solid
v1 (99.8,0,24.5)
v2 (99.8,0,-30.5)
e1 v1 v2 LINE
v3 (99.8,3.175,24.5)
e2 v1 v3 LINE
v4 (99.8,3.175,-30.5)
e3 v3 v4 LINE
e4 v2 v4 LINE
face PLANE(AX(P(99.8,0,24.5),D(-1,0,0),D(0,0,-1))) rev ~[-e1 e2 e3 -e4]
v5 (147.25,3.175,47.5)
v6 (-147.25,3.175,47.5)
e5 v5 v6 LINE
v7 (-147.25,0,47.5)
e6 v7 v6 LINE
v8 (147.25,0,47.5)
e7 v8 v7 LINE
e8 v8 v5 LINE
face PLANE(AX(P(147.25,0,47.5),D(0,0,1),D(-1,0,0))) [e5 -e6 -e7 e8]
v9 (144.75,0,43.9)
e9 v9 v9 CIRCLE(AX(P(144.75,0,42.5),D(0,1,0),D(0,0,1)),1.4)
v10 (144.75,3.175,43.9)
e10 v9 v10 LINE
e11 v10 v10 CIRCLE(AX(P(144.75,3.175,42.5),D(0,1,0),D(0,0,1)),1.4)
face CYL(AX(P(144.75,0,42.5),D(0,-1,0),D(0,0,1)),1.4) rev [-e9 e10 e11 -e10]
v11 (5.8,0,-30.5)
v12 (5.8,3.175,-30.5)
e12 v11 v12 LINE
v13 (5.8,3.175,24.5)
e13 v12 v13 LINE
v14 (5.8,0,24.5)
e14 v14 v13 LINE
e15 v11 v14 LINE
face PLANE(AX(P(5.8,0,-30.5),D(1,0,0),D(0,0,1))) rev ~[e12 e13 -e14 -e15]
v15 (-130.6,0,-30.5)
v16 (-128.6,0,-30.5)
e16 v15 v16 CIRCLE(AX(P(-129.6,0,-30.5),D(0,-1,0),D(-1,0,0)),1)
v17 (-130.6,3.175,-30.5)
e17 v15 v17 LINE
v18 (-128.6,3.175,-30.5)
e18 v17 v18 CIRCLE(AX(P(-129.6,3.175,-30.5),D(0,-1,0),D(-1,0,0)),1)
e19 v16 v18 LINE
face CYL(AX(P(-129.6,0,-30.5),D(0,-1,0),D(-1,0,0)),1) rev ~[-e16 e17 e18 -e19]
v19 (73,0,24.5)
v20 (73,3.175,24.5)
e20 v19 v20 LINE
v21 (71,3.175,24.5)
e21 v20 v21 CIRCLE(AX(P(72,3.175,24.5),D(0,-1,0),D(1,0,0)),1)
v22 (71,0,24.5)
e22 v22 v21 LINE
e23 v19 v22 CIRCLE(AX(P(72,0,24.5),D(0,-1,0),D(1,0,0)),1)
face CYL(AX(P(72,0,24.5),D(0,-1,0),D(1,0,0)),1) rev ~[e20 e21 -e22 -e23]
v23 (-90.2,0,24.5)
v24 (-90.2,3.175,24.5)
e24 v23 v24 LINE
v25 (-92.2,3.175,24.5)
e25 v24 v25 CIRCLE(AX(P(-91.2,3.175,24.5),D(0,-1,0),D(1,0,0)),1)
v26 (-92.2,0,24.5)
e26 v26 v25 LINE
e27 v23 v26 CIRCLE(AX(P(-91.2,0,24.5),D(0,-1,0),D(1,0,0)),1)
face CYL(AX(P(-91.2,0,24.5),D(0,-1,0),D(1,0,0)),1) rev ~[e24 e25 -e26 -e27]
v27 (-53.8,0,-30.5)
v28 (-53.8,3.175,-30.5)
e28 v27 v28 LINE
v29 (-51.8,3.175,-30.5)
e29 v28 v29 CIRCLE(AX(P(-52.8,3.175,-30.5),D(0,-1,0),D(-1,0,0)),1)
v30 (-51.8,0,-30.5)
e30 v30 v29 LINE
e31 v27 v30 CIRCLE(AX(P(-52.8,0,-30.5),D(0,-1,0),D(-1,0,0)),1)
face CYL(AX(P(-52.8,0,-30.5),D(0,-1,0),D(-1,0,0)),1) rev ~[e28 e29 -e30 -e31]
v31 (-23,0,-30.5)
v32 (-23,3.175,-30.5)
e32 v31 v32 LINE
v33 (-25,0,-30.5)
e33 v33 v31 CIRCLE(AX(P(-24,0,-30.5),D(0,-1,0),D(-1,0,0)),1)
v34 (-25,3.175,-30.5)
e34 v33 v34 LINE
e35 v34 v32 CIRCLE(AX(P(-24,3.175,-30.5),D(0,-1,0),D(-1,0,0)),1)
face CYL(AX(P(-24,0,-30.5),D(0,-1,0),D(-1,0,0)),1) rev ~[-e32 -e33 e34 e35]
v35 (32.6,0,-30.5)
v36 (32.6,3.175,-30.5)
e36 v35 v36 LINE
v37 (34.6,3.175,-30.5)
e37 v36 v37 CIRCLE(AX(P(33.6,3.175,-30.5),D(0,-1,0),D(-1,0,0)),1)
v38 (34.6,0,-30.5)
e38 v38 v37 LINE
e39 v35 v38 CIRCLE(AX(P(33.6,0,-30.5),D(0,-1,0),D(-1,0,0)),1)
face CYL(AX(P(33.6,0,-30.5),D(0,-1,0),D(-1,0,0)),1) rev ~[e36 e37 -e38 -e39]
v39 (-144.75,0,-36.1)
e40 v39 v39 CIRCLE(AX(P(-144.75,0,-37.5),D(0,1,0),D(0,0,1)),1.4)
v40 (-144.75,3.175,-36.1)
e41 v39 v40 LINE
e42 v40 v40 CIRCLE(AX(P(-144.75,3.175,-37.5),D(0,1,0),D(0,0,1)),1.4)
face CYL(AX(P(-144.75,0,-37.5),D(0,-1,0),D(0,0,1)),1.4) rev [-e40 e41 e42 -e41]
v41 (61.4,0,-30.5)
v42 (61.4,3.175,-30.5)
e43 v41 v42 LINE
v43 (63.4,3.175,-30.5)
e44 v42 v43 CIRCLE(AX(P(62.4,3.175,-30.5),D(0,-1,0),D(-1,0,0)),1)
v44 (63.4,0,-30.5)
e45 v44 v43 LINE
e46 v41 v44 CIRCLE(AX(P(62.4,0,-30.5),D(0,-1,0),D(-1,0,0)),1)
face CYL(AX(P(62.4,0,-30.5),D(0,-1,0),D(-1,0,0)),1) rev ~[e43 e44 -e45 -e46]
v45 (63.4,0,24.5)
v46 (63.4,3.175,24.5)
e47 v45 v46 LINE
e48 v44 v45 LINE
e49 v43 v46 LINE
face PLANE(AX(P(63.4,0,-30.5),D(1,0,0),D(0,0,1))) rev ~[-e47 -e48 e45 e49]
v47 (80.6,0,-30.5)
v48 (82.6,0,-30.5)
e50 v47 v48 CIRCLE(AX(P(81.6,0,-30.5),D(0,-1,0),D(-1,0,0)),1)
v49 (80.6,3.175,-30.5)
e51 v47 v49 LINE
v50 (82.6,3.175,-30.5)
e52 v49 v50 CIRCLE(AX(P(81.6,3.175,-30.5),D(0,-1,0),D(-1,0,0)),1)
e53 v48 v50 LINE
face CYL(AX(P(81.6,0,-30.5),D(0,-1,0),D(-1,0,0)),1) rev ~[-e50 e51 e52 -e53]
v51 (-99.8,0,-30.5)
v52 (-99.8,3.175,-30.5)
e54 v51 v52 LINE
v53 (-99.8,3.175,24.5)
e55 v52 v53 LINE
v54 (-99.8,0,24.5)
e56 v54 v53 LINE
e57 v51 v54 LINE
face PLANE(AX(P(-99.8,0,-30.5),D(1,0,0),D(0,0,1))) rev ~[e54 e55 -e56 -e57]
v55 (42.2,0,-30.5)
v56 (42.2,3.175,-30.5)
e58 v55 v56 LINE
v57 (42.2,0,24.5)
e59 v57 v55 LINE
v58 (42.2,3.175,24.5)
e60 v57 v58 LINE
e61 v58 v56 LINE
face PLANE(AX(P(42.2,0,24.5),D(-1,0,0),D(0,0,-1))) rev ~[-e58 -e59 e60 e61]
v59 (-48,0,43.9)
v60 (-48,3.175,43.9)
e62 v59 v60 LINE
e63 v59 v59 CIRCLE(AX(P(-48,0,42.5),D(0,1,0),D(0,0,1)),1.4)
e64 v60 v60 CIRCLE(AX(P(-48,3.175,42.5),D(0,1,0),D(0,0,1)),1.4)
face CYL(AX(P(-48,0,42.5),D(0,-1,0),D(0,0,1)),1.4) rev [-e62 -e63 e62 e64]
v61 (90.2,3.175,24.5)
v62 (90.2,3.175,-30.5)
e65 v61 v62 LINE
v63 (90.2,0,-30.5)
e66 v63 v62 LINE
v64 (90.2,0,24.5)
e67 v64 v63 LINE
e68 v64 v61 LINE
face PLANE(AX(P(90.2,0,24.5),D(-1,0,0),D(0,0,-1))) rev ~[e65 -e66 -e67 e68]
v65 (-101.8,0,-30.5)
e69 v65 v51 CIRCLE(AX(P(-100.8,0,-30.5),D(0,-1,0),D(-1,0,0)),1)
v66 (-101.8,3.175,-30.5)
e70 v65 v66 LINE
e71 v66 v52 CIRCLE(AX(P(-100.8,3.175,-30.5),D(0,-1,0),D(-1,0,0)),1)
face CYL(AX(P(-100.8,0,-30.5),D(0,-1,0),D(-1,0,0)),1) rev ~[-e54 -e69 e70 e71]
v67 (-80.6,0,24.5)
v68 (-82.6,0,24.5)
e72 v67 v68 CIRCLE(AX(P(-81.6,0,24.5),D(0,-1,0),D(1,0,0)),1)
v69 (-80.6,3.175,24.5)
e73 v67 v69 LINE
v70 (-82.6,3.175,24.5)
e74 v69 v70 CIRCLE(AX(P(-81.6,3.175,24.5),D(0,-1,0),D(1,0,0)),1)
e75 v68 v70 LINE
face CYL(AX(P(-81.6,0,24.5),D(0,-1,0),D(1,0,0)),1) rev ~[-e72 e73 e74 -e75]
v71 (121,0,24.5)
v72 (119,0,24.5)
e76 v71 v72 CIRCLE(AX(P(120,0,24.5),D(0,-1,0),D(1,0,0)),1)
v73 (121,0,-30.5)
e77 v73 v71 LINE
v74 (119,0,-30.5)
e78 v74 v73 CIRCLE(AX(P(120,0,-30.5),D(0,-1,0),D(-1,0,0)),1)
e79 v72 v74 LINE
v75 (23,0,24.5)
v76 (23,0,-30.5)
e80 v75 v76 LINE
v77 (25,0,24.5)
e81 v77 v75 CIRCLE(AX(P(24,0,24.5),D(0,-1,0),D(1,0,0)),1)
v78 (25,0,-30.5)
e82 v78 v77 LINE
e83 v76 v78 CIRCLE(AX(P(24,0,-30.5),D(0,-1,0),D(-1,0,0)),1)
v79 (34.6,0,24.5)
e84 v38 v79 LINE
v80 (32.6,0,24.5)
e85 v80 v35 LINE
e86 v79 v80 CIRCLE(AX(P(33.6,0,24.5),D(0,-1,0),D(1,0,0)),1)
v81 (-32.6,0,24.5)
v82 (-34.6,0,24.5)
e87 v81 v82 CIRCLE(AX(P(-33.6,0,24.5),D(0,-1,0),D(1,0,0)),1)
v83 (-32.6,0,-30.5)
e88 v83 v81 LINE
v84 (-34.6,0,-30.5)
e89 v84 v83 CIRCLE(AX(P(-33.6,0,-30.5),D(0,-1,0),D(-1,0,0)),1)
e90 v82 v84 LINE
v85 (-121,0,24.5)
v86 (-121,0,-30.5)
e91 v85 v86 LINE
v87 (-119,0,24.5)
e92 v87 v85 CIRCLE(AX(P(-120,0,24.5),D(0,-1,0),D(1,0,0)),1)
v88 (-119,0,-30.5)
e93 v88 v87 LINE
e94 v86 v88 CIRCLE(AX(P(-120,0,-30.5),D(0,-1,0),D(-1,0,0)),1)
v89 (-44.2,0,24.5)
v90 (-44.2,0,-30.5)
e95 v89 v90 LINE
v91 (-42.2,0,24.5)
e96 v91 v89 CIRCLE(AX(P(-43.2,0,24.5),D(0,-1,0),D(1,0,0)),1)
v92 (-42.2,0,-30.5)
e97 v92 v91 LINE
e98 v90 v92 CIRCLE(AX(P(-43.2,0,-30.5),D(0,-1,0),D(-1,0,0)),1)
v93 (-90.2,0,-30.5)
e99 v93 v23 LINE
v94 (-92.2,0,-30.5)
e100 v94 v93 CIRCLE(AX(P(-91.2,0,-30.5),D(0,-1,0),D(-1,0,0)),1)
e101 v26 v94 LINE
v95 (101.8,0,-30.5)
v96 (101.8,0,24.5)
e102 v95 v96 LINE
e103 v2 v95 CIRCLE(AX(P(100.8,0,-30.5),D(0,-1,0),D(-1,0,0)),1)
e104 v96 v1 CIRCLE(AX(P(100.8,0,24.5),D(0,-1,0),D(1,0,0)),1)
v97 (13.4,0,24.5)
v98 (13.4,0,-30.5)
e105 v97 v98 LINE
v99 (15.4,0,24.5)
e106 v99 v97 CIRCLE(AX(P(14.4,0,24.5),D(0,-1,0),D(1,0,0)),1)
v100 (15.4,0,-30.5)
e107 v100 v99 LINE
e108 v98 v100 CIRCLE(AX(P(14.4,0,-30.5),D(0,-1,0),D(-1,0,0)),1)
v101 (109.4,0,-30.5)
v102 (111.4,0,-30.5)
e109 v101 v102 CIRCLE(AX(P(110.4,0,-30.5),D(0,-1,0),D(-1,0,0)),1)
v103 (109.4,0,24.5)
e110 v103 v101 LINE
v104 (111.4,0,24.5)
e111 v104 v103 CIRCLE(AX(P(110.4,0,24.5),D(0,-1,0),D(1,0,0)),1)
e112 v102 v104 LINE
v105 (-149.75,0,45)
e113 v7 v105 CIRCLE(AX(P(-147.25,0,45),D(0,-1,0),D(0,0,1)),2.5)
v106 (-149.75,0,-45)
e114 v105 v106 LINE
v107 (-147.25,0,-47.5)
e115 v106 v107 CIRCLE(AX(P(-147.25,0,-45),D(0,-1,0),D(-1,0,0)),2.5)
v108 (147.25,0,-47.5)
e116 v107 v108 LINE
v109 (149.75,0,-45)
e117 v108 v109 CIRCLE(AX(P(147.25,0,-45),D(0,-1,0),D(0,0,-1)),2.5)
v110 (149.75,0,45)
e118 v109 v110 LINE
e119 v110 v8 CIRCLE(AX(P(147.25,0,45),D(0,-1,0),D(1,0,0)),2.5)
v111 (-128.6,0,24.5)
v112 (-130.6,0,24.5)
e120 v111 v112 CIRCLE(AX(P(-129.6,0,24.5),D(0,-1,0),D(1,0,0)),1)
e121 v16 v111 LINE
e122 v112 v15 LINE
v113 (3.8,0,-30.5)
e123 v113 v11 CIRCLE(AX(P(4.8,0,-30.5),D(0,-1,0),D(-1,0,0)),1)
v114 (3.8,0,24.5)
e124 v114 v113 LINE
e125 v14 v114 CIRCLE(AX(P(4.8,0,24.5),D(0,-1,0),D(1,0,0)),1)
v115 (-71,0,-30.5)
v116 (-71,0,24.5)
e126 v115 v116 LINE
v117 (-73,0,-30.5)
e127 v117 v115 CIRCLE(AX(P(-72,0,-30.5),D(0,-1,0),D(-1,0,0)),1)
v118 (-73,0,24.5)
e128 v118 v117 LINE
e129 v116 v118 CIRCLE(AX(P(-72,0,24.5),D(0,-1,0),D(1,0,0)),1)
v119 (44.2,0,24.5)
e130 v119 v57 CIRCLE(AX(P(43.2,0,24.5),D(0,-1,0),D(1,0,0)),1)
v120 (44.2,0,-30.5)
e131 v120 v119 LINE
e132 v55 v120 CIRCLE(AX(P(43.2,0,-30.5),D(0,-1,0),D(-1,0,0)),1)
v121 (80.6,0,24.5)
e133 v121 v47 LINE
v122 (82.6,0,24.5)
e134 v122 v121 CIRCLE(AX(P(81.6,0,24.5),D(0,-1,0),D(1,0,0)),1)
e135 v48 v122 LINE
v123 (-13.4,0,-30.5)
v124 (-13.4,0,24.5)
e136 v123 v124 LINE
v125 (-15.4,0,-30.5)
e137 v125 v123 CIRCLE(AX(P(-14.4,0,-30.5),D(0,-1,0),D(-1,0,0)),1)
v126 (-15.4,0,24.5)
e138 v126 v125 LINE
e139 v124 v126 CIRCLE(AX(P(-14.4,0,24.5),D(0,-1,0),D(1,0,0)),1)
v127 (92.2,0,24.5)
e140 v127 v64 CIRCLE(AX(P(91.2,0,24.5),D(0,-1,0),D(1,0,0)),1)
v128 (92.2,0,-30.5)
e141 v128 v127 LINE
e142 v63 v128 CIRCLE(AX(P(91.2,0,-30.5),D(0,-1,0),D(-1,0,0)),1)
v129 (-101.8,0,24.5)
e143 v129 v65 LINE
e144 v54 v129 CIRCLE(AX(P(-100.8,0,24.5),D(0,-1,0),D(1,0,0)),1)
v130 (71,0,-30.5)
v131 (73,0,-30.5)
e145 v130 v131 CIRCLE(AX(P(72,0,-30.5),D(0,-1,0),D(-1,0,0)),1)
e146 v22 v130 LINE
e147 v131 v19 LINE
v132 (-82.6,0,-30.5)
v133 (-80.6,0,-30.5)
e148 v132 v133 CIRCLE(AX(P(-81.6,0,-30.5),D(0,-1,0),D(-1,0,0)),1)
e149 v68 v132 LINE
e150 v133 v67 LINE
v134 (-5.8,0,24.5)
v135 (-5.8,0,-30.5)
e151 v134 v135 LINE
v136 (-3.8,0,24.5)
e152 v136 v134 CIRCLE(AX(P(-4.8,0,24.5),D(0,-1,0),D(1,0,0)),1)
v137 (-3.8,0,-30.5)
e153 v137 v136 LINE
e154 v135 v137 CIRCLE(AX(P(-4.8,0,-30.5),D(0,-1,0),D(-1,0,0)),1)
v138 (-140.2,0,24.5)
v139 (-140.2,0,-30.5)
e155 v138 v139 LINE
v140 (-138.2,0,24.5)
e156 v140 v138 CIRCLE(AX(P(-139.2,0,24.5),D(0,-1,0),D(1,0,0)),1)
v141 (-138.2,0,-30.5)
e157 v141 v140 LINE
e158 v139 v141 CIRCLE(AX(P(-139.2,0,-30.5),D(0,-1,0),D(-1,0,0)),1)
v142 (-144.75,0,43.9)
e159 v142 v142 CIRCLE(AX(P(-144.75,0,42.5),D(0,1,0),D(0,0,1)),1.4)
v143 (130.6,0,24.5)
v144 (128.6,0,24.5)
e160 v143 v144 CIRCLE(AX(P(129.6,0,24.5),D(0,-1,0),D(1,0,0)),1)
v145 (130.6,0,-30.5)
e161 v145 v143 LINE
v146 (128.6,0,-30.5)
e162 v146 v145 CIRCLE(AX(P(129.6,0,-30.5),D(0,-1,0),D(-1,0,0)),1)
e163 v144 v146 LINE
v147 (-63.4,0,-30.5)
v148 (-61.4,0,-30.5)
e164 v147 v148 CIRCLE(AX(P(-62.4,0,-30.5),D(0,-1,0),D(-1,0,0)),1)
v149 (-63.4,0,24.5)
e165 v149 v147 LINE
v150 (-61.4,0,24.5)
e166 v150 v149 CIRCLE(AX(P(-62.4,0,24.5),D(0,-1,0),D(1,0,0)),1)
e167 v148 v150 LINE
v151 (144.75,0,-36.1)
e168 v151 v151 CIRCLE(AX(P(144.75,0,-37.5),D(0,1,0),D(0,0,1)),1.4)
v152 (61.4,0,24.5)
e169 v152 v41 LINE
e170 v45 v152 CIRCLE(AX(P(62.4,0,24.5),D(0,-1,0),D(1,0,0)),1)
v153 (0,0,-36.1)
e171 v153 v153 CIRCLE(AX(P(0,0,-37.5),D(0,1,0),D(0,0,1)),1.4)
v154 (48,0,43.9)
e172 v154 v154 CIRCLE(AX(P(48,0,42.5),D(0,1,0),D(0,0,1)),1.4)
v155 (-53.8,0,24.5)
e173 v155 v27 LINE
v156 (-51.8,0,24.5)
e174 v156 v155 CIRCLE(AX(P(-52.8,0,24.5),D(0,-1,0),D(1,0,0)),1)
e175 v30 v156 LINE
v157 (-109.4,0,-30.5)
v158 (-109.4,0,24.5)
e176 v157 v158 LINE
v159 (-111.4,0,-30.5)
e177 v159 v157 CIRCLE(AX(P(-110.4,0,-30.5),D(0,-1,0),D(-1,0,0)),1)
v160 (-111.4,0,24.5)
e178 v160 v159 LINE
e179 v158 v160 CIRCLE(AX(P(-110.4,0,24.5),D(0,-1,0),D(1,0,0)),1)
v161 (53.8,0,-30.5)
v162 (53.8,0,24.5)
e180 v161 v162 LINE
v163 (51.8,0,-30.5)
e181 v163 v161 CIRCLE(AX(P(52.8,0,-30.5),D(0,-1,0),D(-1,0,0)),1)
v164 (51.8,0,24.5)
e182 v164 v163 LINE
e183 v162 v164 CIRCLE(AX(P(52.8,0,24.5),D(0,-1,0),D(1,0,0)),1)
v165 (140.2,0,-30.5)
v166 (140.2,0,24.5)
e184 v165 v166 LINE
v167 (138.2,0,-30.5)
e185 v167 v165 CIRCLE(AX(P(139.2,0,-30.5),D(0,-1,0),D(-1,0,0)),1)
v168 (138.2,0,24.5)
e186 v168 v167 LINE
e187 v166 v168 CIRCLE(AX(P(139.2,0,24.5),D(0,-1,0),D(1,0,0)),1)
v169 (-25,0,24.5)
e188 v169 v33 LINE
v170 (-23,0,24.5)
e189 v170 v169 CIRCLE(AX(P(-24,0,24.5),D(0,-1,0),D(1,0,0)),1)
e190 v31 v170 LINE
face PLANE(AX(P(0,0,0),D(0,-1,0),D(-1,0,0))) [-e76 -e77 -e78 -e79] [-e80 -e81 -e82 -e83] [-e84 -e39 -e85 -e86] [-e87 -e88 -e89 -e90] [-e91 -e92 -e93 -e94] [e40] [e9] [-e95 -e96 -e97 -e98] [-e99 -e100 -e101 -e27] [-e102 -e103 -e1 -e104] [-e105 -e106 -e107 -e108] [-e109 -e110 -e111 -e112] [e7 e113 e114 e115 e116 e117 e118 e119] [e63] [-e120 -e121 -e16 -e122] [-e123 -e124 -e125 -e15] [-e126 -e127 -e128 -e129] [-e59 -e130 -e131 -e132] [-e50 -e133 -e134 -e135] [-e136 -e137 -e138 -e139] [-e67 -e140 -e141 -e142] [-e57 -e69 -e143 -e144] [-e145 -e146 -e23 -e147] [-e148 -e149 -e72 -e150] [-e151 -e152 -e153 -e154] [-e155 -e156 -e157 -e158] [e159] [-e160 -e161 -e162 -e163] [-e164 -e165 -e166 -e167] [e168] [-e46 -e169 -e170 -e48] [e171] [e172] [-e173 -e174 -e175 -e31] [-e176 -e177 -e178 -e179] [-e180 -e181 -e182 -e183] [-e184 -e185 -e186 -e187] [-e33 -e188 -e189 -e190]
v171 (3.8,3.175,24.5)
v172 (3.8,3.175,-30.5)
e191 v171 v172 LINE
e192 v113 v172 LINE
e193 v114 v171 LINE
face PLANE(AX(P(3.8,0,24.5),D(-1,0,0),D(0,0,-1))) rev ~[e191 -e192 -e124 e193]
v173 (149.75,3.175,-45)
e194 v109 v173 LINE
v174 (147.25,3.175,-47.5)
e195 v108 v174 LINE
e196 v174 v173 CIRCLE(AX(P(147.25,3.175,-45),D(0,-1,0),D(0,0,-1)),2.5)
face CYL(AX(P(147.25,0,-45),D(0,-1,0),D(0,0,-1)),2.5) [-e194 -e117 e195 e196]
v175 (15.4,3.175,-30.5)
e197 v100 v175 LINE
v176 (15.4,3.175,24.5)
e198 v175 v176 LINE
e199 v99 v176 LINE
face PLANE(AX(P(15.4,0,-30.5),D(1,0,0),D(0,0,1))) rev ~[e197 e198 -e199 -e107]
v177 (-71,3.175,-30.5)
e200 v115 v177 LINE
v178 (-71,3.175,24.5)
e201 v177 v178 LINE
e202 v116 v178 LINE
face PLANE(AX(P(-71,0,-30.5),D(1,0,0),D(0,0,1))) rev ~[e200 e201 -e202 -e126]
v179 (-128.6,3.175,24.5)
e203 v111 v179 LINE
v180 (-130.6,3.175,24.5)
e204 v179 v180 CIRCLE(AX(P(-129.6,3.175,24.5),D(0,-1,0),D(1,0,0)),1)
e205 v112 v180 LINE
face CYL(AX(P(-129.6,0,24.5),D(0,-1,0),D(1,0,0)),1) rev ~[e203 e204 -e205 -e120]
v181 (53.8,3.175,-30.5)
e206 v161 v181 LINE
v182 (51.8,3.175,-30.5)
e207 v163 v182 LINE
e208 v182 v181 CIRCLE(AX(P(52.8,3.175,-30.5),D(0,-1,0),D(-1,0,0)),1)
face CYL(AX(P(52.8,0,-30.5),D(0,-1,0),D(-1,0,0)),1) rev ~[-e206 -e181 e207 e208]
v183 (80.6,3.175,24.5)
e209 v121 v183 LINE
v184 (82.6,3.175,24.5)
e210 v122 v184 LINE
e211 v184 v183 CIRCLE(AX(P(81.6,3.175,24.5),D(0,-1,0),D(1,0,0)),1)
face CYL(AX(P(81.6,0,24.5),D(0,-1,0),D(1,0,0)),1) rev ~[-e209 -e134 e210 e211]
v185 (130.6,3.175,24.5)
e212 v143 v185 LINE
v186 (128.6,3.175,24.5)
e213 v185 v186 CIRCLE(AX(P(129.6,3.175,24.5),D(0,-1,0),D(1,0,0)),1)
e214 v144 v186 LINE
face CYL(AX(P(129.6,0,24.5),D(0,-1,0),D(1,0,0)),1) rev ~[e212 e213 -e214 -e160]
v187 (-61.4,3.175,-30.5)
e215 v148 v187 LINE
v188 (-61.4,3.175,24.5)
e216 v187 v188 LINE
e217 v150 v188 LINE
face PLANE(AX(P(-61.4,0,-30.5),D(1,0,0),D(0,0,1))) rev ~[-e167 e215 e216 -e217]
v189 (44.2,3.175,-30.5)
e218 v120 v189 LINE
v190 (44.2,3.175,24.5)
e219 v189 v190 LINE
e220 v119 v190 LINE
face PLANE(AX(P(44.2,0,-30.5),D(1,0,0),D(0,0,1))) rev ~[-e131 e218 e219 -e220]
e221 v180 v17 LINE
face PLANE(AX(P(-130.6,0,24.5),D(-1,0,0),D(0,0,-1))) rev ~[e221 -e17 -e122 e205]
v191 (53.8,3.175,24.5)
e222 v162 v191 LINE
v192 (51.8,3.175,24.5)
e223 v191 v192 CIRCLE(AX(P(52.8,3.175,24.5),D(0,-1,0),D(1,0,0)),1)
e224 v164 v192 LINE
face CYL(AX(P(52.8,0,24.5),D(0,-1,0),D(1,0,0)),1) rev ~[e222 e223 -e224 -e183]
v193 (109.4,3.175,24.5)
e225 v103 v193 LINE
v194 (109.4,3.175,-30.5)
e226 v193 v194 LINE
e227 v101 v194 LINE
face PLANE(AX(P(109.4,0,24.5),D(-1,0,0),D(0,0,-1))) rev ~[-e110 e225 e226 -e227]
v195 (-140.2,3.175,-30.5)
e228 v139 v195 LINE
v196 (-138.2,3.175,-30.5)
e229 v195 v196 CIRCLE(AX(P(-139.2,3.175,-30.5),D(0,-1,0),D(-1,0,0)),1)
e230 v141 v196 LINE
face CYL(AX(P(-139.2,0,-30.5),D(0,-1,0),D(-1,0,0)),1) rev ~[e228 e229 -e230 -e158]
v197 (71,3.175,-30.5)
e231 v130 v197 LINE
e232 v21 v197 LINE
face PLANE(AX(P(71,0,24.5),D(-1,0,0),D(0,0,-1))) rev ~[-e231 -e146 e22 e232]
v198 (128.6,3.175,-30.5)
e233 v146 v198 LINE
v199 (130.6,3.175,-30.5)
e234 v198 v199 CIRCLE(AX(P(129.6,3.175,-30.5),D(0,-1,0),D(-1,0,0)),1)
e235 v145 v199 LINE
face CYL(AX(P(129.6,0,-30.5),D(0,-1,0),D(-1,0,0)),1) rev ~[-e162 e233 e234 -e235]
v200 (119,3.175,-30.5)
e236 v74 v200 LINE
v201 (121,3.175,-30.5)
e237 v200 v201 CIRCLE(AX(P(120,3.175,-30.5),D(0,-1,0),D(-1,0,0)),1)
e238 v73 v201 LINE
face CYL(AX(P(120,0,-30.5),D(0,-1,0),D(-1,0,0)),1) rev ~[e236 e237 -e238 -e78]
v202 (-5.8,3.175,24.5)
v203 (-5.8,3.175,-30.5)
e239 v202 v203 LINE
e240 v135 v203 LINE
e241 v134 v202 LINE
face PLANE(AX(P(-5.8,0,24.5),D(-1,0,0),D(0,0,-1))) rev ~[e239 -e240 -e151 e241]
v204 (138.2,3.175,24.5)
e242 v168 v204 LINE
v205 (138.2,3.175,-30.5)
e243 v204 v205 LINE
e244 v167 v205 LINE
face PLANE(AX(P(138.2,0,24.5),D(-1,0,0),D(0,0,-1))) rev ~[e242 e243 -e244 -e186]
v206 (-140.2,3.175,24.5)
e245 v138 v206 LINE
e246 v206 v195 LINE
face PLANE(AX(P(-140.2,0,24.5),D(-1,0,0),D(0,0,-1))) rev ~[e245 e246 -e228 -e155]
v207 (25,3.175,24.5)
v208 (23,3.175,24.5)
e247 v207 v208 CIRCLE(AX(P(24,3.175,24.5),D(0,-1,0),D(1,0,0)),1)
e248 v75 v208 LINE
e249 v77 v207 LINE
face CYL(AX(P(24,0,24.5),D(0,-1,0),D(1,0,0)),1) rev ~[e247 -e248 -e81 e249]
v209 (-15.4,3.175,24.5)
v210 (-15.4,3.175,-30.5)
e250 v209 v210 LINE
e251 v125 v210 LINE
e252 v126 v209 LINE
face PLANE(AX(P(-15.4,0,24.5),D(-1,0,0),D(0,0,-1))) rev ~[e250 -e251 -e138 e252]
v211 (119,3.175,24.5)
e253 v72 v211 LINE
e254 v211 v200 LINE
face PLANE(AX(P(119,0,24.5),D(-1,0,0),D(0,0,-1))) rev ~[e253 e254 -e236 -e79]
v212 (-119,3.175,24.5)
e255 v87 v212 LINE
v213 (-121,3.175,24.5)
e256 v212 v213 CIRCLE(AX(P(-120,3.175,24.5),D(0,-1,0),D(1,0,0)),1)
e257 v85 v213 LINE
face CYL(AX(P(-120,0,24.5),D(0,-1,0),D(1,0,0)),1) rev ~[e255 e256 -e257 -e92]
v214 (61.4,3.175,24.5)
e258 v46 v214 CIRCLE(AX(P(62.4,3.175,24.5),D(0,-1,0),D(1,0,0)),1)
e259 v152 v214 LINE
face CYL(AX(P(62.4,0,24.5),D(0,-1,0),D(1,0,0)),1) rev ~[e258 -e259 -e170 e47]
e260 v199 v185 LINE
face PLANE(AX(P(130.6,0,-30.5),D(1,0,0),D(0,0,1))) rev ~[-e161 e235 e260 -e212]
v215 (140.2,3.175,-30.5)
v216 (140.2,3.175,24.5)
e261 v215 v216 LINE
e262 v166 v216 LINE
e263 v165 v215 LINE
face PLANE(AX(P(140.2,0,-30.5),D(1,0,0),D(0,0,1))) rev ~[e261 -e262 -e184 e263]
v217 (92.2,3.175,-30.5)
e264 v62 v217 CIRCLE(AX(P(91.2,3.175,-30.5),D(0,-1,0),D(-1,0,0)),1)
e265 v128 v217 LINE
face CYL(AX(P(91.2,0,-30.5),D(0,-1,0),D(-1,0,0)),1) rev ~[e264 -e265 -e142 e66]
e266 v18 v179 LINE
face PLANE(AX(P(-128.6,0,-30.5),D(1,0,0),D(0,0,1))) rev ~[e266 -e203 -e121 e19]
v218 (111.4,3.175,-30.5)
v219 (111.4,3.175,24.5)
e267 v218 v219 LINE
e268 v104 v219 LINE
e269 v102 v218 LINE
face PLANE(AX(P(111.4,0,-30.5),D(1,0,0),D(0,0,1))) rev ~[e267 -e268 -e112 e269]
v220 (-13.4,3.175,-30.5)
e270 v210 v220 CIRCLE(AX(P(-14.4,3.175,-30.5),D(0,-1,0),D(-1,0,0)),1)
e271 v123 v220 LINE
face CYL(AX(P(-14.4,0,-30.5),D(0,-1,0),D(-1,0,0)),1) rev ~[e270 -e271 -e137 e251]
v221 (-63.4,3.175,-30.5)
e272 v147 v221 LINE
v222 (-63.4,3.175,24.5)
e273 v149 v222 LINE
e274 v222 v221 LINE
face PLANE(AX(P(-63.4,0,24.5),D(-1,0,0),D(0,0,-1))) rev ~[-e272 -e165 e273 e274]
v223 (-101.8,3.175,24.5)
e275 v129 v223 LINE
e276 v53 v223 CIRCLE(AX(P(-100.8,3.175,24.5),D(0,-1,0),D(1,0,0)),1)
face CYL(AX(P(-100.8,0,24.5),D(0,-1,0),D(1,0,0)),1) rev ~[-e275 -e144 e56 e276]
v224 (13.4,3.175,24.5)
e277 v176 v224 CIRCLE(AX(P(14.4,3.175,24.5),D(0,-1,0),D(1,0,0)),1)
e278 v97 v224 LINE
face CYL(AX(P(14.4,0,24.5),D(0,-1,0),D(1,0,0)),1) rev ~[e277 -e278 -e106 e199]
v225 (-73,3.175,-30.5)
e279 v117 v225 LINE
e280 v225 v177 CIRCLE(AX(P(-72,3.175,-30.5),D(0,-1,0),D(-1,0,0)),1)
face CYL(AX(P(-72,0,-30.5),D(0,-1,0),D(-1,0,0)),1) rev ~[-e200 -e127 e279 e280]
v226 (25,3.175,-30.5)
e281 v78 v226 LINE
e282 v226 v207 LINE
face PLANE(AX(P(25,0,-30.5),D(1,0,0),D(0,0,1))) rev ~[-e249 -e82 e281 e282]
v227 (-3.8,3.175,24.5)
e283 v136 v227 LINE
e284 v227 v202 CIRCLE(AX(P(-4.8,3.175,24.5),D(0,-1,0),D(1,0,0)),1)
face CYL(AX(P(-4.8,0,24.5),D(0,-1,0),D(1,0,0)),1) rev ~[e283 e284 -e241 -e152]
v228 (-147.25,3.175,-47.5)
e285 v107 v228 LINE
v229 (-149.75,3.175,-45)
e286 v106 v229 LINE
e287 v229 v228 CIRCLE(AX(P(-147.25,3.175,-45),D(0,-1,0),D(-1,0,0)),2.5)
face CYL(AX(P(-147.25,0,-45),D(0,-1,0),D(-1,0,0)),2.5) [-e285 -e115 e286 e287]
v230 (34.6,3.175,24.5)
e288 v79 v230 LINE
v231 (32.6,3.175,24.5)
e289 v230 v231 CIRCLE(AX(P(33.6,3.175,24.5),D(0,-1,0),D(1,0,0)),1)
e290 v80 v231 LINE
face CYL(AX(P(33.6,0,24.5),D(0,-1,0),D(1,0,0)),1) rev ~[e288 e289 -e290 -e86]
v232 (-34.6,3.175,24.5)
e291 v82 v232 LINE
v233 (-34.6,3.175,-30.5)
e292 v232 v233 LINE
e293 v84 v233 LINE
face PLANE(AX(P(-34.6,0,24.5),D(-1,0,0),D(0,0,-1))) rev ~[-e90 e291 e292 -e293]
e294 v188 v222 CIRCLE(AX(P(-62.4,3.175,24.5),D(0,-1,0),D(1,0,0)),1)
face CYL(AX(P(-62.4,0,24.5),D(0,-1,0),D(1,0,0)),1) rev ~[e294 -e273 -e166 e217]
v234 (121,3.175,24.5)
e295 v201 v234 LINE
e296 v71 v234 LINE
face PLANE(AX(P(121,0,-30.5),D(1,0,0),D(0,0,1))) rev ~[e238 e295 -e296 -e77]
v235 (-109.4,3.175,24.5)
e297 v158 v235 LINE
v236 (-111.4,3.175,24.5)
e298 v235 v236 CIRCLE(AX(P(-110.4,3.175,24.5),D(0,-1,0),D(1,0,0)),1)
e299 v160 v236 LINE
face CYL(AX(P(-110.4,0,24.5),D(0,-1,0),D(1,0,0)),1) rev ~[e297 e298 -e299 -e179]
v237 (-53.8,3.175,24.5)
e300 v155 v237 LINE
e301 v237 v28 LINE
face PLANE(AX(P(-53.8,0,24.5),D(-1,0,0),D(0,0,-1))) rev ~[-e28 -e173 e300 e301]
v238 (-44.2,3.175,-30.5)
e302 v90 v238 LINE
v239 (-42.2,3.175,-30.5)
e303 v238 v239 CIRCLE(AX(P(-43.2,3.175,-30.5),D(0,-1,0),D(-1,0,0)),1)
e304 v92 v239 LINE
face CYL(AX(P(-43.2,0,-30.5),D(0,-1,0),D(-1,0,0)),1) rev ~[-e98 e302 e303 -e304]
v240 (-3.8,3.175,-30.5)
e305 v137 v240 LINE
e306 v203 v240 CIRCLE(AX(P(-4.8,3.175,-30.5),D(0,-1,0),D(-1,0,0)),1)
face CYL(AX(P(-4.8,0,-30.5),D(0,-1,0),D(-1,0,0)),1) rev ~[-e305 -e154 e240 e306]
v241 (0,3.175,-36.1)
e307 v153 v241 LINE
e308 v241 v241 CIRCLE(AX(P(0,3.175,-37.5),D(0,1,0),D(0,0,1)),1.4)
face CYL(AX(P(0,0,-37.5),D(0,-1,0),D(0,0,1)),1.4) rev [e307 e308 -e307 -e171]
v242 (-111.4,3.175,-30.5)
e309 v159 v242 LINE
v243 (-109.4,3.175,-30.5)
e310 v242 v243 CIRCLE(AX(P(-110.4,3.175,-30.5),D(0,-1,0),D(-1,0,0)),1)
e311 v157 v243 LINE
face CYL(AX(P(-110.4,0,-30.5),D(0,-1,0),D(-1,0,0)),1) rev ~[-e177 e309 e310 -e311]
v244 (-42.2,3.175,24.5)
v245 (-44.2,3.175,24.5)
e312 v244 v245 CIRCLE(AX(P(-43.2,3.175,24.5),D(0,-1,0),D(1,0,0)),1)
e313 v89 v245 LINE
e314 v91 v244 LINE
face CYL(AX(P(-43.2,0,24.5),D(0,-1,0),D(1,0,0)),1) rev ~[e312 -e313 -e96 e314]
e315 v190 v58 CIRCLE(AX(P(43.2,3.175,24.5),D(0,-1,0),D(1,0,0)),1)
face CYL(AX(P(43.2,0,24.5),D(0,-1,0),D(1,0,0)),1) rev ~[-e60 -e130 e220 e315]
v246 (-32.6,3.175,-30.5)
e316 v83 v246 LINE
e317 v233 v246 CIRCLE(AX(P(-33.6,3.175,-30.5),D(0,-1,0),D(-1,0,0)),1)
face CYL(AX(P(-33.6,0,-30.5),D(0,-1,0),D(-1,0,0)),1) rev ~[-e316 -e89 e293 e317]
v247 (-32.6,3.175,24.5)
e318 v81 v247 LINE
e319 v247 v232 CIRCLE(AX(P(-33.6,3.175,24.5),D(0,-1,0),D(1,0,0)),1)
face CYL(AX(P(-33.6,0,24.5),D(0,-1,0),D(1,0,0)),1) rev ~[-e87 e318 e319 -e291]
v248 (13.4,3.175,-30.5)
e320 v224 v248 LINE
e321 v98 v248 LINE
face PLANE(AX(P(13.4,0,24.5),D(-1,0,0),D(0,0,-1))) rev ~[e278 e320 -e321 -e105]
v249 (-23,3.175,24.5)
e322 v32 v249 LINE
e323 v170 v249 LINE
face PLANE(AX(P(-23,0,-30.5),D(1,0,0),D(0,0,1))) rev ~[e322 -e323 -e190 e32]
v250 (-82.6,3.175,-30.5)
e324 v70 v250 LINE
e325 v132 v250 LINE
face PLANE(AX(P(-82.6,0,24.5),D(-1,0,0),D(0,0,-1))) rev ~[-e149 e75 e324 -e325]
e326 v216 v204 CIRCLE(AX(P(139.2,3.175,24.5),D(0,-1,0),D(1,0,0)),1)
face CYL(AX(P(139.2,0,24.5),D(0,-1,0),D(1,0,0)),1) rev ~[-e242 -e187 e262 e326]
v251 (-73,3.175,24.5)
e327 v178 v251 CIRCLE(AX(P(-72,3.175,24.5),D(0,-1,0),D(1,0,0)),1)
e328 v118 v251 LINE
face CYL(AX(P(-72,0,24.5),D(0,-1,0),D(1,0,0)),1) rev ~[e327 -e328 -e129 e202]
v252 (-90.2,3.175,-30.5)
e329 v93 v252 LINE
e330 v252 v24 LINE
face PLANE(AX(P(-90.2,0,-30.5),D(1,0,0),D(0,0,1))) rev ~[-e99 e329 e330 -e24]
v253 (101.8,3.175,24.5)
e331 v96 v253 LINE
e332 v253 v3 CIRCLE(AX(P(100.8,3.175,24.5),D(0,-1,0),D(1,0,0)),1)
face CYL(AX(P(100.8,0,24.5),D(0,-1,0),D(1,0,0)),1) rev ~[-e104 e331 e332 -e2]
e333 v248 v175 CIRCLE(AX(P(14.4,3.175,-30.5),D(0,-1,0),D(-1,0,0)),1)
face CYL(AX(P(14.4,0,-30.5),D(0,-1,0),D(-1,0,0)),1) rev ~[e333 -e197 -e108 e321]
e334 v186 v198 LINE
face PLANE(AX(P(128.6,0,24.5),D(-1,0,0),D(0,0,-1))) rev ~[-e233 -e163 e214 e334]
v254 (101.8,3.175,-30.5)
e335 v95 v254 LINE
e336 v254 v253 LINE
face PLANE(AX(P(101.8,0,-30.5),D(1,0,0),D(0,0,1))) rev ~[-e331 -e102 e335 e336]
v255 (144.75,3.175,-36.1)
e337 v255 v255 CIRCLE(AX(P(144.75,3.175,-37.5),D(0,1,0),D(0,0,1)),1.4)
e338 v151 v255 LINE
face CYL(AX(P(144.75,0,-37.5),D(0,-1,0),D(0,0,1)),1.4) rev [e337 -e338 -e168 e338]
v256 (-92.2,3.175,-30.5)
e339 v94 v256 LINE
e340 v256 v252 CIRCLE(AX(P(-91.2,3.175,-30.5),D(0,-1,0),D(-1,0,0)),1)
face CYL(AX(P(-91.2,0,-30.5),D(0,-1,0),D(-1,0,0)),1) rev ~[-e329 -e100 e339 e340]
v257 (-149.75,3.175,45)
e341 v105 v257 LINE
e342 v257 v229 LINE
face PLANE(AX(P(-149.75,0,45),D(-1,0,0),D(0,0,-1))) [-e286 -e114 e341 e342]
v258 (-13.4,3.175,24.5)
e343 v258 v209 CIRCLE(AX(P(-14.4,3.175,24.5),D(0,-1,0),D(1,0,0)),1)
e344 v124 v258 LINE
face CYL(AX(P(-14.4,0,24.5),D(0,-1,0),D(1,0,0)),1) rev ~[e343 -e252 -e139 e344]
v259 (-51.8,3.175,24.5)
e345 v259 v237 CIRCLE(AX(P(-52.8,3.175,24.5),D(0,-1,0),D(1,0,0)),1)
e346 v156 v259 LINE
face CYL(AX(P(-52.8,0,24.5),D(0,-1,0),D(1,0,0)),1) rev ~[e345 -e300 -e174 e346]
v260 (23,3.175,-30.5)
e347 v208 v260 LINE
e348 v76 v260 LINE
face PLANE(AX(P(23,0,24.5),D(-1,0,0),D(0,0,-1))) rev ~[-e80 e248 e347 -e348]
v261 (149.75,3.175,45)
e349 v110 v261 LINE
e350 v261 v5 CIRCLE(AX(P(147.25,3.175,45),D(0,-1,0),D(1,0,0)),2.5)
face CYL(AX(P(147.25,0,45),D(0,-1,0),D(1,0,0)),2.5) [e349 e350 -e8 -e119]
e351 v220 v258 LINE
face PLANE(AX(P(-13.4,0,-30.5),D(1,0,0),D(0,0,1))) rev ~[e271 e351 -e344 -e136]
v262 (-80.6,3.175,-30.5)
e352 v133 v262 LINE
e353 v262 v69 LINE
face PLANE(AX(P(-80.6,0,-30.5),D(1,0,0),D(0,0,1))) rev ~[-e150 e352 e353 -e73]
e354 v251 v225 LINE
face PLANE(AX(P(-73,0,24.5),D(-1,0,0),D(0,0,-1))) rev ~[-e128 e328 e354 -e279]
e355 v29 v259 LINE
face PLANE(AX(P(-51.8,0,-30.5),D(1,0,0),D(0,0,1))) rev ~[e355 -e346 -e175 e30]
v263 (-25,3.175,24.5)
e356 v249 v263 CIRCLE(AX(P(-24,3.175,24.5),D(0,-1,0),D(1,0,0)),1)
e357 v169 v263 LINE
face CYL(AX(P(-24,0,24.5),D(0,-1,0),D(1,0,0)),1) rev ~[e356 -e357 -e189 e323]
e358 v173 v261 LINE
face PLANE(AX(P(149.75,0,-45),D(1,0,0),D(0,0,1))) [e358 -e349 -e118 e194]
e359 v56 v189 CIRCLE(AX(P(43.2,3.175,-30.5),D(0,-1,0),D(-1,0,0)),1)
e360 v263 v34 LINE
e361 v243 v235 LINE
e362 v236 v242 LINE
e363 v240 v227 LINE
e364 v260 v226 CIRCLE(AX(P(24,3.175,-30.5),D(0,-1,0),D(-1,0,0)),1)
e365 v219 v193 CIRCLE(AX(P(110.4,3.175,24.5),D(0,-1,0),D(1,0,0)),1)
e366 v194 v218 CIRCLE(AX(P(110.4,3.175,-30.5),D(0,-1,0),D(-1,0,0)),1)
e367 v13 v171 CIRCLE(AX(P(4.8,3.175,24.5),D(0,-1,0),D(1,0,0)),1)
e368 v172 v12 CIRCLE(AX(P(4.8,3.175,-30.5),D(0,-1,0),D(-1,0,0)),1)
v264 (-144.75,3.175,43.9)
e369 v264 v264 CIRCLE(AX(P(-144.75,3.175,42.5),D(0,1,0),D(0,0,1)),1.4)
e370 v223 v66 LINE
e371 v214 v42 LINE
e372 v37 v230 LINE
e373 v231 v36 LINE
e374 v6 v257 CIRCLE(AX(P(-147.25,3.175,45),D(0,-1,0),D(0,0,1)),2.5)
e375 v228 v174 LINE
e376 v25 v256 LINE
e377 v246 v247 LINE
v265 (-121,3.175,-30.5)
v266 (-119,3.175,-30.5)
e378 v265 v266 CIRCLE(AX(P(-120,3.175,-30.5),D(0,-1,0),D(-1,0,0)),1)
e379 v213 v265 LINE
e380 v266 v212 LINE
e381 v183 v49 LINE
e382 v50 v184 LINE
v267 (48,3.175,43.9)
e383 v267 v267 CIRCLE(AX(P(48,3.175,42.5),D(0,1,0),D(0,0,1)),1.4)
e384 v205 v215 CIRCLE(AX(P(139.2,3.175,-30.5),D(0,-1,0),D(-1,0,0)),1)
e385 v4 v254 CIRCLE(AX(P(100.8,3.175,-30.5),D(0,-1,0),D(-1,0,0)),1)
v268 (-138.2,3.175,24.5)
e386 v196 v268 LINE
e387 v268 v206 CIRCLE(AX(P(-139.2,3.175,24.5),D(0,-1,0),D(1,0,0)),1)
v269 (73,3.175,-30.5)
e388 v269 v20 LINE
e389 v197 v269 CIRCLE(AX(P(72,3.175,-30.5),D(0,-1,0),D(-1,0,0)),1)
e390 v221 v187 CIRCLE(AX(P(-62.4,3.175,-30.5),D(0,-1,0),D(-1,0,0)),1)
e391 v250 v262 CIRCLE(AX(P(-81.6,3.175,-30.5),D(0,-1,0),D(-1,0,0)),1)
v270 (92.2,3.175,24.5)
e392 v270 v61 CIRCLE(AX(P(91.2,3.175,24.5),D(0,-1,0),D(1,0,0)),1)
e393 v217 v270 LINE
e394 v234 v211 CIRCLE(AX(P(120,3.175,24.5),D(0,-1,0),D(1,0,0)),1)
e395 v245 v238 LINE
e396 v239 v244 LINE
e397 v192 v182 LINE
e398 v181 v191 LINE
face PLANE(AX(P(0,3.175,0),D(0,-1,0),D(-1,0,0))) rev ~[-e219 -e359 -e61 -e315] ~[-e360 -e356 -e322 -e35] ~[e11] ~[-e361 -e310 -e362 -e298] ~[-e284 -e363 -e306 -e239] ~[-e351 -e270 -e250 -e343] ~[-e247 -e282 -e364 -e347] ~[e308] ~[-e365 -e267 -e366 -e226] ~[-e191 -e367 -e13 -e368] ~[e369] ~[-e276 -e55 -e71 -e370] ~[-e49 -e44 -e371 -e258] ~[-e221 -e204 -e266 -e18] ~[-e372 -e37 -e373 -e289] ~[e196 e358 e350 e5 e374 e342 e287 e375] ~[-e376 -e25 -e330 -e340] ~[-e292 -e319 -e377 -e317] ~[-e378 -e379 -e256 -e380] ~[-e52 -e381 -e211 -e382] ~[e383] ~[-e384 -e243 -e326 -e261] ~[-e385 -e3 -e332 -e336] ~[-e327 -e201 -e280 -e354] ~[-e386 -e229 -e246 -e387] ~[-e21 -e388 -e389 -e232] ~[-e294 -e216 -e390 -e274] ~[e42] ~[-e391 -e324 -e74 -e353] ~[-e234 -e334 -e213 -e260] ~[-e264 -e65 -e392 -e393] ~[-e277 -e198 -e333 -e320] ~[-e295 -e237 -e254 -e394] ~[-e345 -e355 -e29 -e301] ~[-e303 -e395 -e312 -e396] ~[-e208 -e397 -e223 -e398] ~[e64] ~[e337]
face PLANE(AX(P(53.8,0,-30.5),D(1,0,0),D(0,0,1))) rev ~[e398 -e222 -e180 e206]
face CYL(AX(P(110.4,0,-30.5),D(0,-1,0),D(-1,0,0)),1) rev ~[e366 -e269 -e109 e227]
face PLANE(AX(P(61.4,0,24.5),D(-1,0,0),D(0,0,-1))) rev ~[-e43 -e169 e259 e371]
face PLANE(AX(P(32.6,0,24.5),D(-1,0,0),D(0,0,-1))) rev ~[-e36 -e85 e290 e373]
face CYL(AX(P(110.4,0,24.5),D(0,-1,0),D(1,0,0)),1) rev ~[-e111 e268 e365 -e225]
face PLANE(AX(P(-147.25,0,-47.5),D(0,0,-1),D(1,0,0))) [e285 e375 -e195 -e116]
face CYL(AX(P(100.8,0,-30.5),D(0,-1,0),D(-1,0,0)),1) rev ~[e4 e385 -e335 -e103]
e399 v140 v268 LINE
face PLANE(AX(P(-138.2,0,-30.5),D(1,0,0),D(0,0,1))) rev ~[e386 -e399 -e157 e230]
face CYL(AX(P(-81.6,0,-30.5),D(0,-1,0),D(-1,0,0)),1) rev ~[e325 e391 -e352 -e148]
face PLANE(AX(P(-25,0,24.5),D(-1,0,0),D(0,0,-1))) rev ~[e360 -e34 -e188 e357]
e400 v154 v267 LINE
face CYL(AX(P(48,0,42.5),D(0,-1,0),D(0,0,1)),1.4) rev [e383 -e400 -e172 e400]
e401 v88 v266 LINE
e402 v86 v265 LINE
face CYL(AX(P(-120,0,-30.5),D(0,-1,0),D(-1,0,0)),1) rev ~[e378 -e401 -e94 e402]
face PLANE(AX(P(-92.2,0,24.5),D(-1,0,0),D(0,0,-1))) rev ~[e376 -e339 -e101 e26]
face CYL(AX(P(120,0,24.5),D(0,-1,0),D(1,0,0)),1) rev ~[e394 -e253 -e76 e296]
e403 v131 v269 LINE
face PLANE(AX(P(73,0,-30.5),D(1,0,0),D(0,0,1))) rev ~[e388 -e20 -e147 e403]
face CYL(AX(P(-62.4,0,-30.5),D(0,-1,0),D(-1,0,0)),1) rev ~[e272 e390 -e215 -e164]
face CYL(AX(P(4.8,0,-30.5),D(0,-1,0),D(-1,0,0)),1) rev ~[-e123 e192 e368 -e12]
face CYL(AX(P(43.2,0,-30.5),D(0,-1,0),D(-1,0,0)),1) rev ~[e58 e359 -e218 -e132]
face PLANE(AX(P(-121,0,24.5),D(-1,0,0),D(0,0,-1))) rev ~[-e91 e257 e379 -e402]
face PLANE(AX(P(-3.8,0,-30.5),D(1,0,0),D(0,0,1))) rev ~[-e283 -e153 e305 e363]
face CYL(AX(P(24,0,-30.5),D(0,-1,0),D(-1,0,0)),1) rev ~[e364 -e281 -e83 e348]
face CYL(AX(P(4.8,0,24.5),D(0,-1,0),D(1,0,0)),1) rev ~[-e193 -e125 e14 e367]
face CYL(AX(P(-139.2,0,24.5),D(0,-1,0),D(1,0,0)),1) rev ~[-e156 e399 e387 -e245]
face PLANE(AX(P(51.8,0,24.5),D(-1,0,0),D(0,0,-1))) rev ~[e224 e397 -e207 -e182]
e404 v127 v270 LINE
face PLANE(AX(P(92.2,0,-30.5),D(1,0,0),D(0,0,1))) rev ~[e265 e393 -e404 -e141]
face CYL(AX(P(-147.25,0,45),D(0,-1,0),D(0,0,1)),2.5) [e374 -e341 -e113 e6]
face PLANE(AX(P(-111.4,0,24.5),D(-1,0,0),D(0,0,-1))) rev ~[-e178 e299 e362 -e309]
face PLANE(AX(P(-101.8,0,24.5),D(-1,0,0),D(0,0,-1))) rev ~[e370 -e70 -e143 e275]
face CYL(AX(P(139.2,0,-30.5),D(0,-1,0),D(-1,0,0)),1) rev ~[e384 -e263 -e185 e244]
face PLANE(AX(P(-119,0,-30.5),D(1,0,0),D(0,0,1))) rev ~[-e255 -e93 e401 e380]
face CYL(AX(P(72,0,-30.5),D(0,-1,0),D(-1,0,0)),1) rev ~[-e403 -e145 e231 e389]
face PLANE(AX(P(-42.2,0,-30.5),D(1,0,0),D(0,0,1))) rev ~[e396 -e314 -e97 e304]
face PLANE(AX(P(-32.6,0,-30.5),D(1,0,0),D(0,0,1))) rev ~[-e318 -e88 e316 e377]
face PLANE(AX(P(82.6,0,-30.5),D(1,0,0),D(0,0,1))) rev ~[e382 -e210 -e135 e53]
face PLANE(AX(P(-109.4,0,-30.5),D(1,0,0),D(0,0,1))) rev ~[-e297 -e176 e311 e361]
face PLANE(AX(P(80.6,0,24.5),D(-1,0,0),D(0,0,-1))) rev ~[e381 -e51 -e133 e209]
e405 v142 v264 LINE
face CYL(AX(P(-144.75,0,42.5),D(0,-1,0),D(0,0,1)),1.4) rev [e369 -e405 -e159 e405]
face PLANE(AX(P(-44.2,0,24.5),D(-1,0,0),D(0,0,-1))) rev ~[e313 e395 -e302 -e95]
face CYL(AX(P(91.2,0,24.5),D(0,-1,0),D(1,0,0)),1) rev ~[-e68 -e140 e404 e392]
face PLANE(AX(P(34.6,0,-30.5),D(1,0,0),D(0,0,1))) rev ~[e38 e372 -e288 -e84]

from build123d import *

# Parameters (mm, degrees)
SKETCH3_R           = 1.4
BOSS_EXTRUDE1_DEPTH = 3.175


with BuildPart() as part:
    # Sketch3 → Boss-Extrude1 (new body)
    with BuildSketch(Plane(origin=(0, 0, 0), x_dir=(1, 0, 0), z_dir=(0, 1, 0))):
        with BuildLine():
            Line((-147.25, 47.5), (147.25, 47.5))
            ThreePointArc((147.25, 47.5), (149.017766953, 46.767766953), (149.75, 45))
            Line((149.75, 45), (149.75, -45))
            ThreePointArc((149.75, -45), (149.017766953, -46.767766953), (147.25, -47.5))
            Line((147.25, -47.5), (-147.25, -47.5))
            ThreePointArc((-147.25, -47.5), (-149.017766953, -46.767766953), (-149.75, -45))
            Line((-149.75, -45), (-149.75, 45))
            ThreePointArc((-149.75, 45), (-149.017766953, 46.767766953), (-147.25, 47.5))
        make_face()
        with Locations(Location((-144.75, 37.5, 0), (0, 0, 270))):
            Circle(SKETCH3_R, mode=Mode.SUBTRACT)
        with Locations(Location((-144.75, -42.5, 0), (0, 0, 270))):
            Circle(SKETCH3_R, mode=Mode.SUBTRACT)
        with Locations(Location((144.75, -42.5, 0), (0, 0, 270))):
            Circle(SKETCH3_R, mode=Mode.SUBTRACT)
        with Locations(Location((144.75, 37.5, 0), (0, 0, 270))):
            Circle(SKETCH3_R, mode=Mode.SUBTRACT)
        with Locations(Location((-48, -42.5, 0), (0, 0, 270))):
            Circle(SKETCH3_R, mode=Mode.SUBTRACT)
        with Locations(Location((48, -42.5, 0), (0, 0, 270))):
            Circle(SKETCH3_R, mode=Mode.SUBTRACT)
        with Locations(Location((0, 37.5, 0), (0, 0, 270))):
            Circle(SKETCH3_R, mode=Mode.SUBTRACT)
        with BuildLine():
            Line((-138.2, 30.5), (-138.2, -24.5))
            ThreePointArc((-138.2, -24.5), (-139.2, -25.5), (-140.2, -24.5))
            Line((-140.2, -24.5), (-140.2, 30.5))
            ThreePointArc((-140.2, 30.5), (-139.2, 31.5), (-138.2, 30.5))
        make_face(mode=Mode.SUBTRACT)
        with BuildLine():
            Line((-128.6, 30.5), (-128.6, -24.5))
            ThreePointArc((-128.6, -24.5), (-129.6, -25.5), (-130.6, -24.5))
            Line((-130.6, -24.5), (-130.6, 30.5))
            ThreePointArc((-130.6, 30.5), (-129.6, 31.5), (-128.6, 30.5))
        make_face(mode=Mode.SUBTRACT)
        with BuildLine():
            Line((-119, 30.5), (-119, -24.5))
            ThreePointArc((-119, -24.5), (-120, -25.5), (-121, -24.5))
            Line((-121, -24.5), (-121, 30.5))
            ThreePointArc((-121, 30.5), (-120, 31.5), (-119, 30.5))
        make_face(mode=Mode.SUBTRACT)
        with BuildLine():
            Line((-109.4, 30.5), (-109.4, -24.5))
            ThreePointArc((-109.4, -24.5), (-110.4, -25.5), (-111.4, -24.5))
            Line((-111.4, -24.5), (-111.4, 30.5))
            ThreePointArc((-111.4, 30.5), (-110.4, 31.5), (-109.4, 30.5))
        make_face(mode=Mode.SUBTRACT)
        with BuildLine():
            Line((-99.8, 30.5), (-99.8, -24.5))
            ThreePointArc((-99.8, -24.5), (-100.8, -25.5), (-101.8, -24.5))
            Line((-101.8, -24.5), (-101.8, 30.5))
            ThreePointArc((-101.8, 30.5), (-100.8, 31.5), (-99.8, 30.5))
        make_face(mode=Mode.SUBTRACT)
        with BuildLine():
            Line((-90.2, 30.5), (-90.2, -24.5))
            ThreePointArc((-90.2, -24.5), (-91.2, -25.5), (-92.2, -24.5))
            Line((-92.2, -24.5), (-92.2, 30.5))
            ThreePointArc((-92.2, 30.5), (-91.2, 31.5), (-90.2, 30.5))
        make_face(mode=Mode.SUBTRACT)
        with BuildLine():
            Line((-80.6, 30.5), (-80.6, -24.5))
            ThreePointArc((-80.6, -24.5), (-81.6, -25.5), (-82.6, -24.5))
            Line((-82.6, -24.5), (-82.6, 30.5))
            ThreePointArc((-82.6, 30.5), (-81.6, 31.5), (-80.6, 30.5))
        make_face(mode=Mode.SUBTRACT)
        with BuildLine():
            Line((-71, 30.5), (-71, -24.5))
            ThreePointArc((-71, -24.5), (-72, -25.5), (-73, -24.5))
            Line((-73, -24.5), (-73, 30.5))
            ThreePointArc((-73, 30.5), (-72, 31.5), (-71, 30.5))
        make_face(mode=Mode.SUBTRACT)
        with BuildLine():
            Line((-61.4, 30.5), (-61.4, -24.5))
            ThreePointArc((-61.4, -24.5), (-62.4, -25.5), (-63.4, -24.5))
            Line((-63.4, -24.5), (-63.4, 30.5))
            ThreePointArc((-63.4, 30.5), (-62.4, 31.5), (-61.4, 30.5))
        make_face(mode=Mode.SUBTRACT)
        with BuildLine():
            Line((-51.8, 30.5), (-51.8, -24.5))
            ThreePointArc((-51.8, -24.5), (-52.8, -25.5), (-53.8, -24.5))
            Line((-53.8, -24.5), (-53.8, 30.5))
            ThreePointArc((-53.8, 30.5), (-52.8, 31.5), (-51.8, 30.5))
        make_face(mode=Mode.SUBTRACT)
        with BuildLine():
            Line((-42.2, 30.5), (-42.2, -24.5))
            ThreePointArc((-42.2, -24.5), (-43.2, -25.5), (-44.2, -24.5))
            Line((-44.2, -24.5), (-44.2, 30.5))
            ThreePointArc((-44.2, 30.5), (-43.2, 31.5), (-42.2, 30.5))
        make_face(mode=Mode.SUBTRACT)
        with BuildLine():
            Line((-32.6, 30.5), (-32.6, -24.5))
            ThreePointArc((-32.6, -24.5), (-33.6, -25.5), (-34.6, -24.5))
            Line((-34.6, -24.5), (-34.6, 30.5))
            ThreePointArc((-34.6, 30.5), (-33.6, 31.5), (-32.6, 30.5))
        make_face(mode=Mode.SUBTRACT)
        with BuildLine():
            Line((-23, 30.5), (-23, -24.5))
            ThreePointArc((-23, -24.5), (-24, -25.5), (-25, -24.5))
            Line((-25, -24.5), (-25, 30.5))
            ThreePointArc((-25, 30.5), (-24, 31.5), (-23, 30.5))
        make_face(mode=Mode.SUBTRACT)
        with BuildLine():
            Line((-13.4, 30.5), (-13.4, -24.5))
            ThreePointArc((-13.4, -24.5), (-14.4, -25.5), (-15.4, -24.5))
            Line((-15.4, -24.5), (-15.4, 30.5))
            ThreePointArc((-15.4, 30.5), (-14.4, 31.5), (-13.4, 30.5))
        make_face(mode=Mode.SUBTRACT)
        with BuildLine():
            Line((-3.8, 30.5), (-3.8, -24.5))
            ThreePointArc((-3.8, -24.5), (-4.8, -25.5), (-5.8, -24.5))
            Line((-5.8, -24.5), (-5.8, 30.5))
            ThreePointArc((-5.8, 30.5), (-4.8, 31.5), (-3.8, 30.5))
        make_face(mode=Mode.SUBTRACT)
        with BuildLine():
            Line((5.8, 30.5), (5.8, -24.5))
            ThreePointArc((5.8, -24.5), (4.8, -25.5), (3.8, -24.5))
            Line((3.8, -24.5), (3.8, 30.5))
            ThreePointArc((3.8, 30.5), (4.8, 31.5), (5.8, 30.5))
        make_face(mode=Mode.SUBTRACT)
        with BuildLine():
            Line((15.4, 30.5), (15.4, -24.5))
            ThreePointArc((15.4, -24.5), (14.4, -25.5), (13.4, -24.5))
            Line((13.4, -24.5), (13.4, 30.5))
            ThreePointArc((13.4, 30.5), (14.4, 31.5), (15.4, 30.5))
        make_face(mode=Mode.SUBTRACT)
        with BuildLine():
            Line((25, 30.5), (25, -24.5))
            ThreePointArc((25, -24.5), (24, -25.5), (23, -24.5))
            Line((23, -24.5), (23, 30.5))
            ThreePointArc((23, 30.5), (24, 31.5), (25, 30.5))
        make_face(mode=Mode.SUBTRACT)
        with BuildLine():
            Line((34.6, 30.5), (34.6, -24.5))
            ThreePointArc((34.6, -24.5), (33.6, -25.5), (32.6, -24.5))
            Line((32.6, -24.5), (32.6, 30.5))
            ThreePointArc((32.6, 30.5), (33.6, 31.5), (34.6, 30.5))
        make_face(mode=Mode.SUBTRACT)
        with BuildLine():
            Line((44.2, 30.5), (44.2, -24.5))
            ThreePointArc((44.2, -24.5), (43.2, -25.5), (42.2, -24.5))
            Line((42.2, -24.5), (42.2, 30.5))
            ThreePointArc((42.2, 30.5), (43.2, 31.5), (44.2, 30.5))
        make_face(mode=Mode.SUBTRACT)
        with BuildLine():
            Line((53.8, 30.5), (53.8, -24.5))
            ThreePointArc((53.8, -24.5), (52.8, -25.5), (51.8, -24.5))
            Line((51.8, -24.5), (51.8, 30.5))
            ThreePointArc((51.8, 30.5), (52.8, 31.5), (53.8, 30.5))
        make_face(mode=Mode.SUBTRACT)
        with BuildLine():
            Line((63.4, 30.5), (63.4, -24.5))
            ThreePointArc((63.4, -24.5), (62.4, -25.5), (61.4, -24.5))
            Line((61.4, -24.5), (61.4, 30.5))
            ThreePointArc((61.4, 30.5), (62.4, 31.5), (63.4, 30.5))
        make_face(mode=Mode.SUBTRACT)
        with BuildLine():
            Line((73, 30.5), (73, -24.5))
            ThreePointArc((73, -24.5), (72, -25.5), (71, -24.5))
            Line((71, -24.5), (71, 30.5))
            ThreePointArc((71, 30.5), (72, 31.5), (73, 30.5))
        make_face(mode=Mode.SUBTRACT)
        with BuildLine():
            Line((82.6, 30.5), (82.6, -24.5))
            ThreePointArc((82.6, -24.5), (81.6, -25.5), (80.6, -24.5))
            Line((80.6, -24.5), (80.6, 30.5))
            ThreePointArc((80.6, 30.5), (81.6, 31.5), (82.6, 30.5))
        make_face(mode=Mode.SUBTRACT)
        with BuildLine():
            Line((92.2, 30.5), (92.2, -24.5))
            ThreePointArc((92.2, -24.5), (91.2, -25.5), (90.2, -24.5))
            Line((90.2, -24.5), (90.2, 30.5))
            ThreePointArc((90.2, 30.5), (91.2, 31.5), (92.2, 30.5))
        make_face(mode=Mode.SUBTRACT)
        with BuildLine():
            Line((101.8, 30.5), (101.8, -24.5))
            ThreePointArc((101.8, -24.5), (100.8, -25.5), (99.8, -24.5))
            Line((99.8, -24.5), (99.8, 30.5))
            ThreePointArc((99.8, 30.5), (100.8, 31.5), (101.8, 30.5))
        make_face(mode=Mode.SUBTRACT)
        with BuildLine():
            Line((111.4, 30.5), (111.4, -24.5))
            ThreePointArc((111.4, -24.5), (110.4, -25.5), (109.4, -24.5))
            Line((109.4, -24.5), (109.4, 30.5))
            ThreePointArc((109.4, 30.5), (110.4, 31.5), (111.4, 30.5))
        make_face(mode=Mode.SUBTRACT)
        with BuildLine():
            Line((121, 30.5), (121, -24.5))
            ThreePointArc((121, -24.5), (120, -25.5), (119, -24.5))
            Line((119, -24.5), (119, 30.5))
            ThreePointArc((119, 30.5), (120, 31.5), (121, 30.5))
        make_face(mode=Mode.SUBTRACT)
        with BuildLine():
            Line((130.6, 30.5), (130.6, -24.5))
            ThreePointArc((130.6, -24.5), (129.6, -25.5), (128.6, -24.5))
            Line((128.6, -24.5), (128.6, 30.5))
            ThreePointArc((128.6, 30.5), (129.6, 31.5), (130.6, 30.5))
        make_face(mode=Mode.SUBTRACT)
        with BuildLine():
            Line((140.2, 30.5), (140.2, -24.5))
            ThreePointArc((140.2, -24.5), (139.2, -25.5), (138.2, -24.5))
            Line((138.2, -24.5), (138.2, 30.5))
            ThreePointArc((138.2, 30.5), (139.2, 31.5), (140.2, 30.5))
        make_face(mode=Mode.SUBTRACT)
    extrude(amount=BOSS_EXTRUDE1_DEPTH)


solid = part.part
